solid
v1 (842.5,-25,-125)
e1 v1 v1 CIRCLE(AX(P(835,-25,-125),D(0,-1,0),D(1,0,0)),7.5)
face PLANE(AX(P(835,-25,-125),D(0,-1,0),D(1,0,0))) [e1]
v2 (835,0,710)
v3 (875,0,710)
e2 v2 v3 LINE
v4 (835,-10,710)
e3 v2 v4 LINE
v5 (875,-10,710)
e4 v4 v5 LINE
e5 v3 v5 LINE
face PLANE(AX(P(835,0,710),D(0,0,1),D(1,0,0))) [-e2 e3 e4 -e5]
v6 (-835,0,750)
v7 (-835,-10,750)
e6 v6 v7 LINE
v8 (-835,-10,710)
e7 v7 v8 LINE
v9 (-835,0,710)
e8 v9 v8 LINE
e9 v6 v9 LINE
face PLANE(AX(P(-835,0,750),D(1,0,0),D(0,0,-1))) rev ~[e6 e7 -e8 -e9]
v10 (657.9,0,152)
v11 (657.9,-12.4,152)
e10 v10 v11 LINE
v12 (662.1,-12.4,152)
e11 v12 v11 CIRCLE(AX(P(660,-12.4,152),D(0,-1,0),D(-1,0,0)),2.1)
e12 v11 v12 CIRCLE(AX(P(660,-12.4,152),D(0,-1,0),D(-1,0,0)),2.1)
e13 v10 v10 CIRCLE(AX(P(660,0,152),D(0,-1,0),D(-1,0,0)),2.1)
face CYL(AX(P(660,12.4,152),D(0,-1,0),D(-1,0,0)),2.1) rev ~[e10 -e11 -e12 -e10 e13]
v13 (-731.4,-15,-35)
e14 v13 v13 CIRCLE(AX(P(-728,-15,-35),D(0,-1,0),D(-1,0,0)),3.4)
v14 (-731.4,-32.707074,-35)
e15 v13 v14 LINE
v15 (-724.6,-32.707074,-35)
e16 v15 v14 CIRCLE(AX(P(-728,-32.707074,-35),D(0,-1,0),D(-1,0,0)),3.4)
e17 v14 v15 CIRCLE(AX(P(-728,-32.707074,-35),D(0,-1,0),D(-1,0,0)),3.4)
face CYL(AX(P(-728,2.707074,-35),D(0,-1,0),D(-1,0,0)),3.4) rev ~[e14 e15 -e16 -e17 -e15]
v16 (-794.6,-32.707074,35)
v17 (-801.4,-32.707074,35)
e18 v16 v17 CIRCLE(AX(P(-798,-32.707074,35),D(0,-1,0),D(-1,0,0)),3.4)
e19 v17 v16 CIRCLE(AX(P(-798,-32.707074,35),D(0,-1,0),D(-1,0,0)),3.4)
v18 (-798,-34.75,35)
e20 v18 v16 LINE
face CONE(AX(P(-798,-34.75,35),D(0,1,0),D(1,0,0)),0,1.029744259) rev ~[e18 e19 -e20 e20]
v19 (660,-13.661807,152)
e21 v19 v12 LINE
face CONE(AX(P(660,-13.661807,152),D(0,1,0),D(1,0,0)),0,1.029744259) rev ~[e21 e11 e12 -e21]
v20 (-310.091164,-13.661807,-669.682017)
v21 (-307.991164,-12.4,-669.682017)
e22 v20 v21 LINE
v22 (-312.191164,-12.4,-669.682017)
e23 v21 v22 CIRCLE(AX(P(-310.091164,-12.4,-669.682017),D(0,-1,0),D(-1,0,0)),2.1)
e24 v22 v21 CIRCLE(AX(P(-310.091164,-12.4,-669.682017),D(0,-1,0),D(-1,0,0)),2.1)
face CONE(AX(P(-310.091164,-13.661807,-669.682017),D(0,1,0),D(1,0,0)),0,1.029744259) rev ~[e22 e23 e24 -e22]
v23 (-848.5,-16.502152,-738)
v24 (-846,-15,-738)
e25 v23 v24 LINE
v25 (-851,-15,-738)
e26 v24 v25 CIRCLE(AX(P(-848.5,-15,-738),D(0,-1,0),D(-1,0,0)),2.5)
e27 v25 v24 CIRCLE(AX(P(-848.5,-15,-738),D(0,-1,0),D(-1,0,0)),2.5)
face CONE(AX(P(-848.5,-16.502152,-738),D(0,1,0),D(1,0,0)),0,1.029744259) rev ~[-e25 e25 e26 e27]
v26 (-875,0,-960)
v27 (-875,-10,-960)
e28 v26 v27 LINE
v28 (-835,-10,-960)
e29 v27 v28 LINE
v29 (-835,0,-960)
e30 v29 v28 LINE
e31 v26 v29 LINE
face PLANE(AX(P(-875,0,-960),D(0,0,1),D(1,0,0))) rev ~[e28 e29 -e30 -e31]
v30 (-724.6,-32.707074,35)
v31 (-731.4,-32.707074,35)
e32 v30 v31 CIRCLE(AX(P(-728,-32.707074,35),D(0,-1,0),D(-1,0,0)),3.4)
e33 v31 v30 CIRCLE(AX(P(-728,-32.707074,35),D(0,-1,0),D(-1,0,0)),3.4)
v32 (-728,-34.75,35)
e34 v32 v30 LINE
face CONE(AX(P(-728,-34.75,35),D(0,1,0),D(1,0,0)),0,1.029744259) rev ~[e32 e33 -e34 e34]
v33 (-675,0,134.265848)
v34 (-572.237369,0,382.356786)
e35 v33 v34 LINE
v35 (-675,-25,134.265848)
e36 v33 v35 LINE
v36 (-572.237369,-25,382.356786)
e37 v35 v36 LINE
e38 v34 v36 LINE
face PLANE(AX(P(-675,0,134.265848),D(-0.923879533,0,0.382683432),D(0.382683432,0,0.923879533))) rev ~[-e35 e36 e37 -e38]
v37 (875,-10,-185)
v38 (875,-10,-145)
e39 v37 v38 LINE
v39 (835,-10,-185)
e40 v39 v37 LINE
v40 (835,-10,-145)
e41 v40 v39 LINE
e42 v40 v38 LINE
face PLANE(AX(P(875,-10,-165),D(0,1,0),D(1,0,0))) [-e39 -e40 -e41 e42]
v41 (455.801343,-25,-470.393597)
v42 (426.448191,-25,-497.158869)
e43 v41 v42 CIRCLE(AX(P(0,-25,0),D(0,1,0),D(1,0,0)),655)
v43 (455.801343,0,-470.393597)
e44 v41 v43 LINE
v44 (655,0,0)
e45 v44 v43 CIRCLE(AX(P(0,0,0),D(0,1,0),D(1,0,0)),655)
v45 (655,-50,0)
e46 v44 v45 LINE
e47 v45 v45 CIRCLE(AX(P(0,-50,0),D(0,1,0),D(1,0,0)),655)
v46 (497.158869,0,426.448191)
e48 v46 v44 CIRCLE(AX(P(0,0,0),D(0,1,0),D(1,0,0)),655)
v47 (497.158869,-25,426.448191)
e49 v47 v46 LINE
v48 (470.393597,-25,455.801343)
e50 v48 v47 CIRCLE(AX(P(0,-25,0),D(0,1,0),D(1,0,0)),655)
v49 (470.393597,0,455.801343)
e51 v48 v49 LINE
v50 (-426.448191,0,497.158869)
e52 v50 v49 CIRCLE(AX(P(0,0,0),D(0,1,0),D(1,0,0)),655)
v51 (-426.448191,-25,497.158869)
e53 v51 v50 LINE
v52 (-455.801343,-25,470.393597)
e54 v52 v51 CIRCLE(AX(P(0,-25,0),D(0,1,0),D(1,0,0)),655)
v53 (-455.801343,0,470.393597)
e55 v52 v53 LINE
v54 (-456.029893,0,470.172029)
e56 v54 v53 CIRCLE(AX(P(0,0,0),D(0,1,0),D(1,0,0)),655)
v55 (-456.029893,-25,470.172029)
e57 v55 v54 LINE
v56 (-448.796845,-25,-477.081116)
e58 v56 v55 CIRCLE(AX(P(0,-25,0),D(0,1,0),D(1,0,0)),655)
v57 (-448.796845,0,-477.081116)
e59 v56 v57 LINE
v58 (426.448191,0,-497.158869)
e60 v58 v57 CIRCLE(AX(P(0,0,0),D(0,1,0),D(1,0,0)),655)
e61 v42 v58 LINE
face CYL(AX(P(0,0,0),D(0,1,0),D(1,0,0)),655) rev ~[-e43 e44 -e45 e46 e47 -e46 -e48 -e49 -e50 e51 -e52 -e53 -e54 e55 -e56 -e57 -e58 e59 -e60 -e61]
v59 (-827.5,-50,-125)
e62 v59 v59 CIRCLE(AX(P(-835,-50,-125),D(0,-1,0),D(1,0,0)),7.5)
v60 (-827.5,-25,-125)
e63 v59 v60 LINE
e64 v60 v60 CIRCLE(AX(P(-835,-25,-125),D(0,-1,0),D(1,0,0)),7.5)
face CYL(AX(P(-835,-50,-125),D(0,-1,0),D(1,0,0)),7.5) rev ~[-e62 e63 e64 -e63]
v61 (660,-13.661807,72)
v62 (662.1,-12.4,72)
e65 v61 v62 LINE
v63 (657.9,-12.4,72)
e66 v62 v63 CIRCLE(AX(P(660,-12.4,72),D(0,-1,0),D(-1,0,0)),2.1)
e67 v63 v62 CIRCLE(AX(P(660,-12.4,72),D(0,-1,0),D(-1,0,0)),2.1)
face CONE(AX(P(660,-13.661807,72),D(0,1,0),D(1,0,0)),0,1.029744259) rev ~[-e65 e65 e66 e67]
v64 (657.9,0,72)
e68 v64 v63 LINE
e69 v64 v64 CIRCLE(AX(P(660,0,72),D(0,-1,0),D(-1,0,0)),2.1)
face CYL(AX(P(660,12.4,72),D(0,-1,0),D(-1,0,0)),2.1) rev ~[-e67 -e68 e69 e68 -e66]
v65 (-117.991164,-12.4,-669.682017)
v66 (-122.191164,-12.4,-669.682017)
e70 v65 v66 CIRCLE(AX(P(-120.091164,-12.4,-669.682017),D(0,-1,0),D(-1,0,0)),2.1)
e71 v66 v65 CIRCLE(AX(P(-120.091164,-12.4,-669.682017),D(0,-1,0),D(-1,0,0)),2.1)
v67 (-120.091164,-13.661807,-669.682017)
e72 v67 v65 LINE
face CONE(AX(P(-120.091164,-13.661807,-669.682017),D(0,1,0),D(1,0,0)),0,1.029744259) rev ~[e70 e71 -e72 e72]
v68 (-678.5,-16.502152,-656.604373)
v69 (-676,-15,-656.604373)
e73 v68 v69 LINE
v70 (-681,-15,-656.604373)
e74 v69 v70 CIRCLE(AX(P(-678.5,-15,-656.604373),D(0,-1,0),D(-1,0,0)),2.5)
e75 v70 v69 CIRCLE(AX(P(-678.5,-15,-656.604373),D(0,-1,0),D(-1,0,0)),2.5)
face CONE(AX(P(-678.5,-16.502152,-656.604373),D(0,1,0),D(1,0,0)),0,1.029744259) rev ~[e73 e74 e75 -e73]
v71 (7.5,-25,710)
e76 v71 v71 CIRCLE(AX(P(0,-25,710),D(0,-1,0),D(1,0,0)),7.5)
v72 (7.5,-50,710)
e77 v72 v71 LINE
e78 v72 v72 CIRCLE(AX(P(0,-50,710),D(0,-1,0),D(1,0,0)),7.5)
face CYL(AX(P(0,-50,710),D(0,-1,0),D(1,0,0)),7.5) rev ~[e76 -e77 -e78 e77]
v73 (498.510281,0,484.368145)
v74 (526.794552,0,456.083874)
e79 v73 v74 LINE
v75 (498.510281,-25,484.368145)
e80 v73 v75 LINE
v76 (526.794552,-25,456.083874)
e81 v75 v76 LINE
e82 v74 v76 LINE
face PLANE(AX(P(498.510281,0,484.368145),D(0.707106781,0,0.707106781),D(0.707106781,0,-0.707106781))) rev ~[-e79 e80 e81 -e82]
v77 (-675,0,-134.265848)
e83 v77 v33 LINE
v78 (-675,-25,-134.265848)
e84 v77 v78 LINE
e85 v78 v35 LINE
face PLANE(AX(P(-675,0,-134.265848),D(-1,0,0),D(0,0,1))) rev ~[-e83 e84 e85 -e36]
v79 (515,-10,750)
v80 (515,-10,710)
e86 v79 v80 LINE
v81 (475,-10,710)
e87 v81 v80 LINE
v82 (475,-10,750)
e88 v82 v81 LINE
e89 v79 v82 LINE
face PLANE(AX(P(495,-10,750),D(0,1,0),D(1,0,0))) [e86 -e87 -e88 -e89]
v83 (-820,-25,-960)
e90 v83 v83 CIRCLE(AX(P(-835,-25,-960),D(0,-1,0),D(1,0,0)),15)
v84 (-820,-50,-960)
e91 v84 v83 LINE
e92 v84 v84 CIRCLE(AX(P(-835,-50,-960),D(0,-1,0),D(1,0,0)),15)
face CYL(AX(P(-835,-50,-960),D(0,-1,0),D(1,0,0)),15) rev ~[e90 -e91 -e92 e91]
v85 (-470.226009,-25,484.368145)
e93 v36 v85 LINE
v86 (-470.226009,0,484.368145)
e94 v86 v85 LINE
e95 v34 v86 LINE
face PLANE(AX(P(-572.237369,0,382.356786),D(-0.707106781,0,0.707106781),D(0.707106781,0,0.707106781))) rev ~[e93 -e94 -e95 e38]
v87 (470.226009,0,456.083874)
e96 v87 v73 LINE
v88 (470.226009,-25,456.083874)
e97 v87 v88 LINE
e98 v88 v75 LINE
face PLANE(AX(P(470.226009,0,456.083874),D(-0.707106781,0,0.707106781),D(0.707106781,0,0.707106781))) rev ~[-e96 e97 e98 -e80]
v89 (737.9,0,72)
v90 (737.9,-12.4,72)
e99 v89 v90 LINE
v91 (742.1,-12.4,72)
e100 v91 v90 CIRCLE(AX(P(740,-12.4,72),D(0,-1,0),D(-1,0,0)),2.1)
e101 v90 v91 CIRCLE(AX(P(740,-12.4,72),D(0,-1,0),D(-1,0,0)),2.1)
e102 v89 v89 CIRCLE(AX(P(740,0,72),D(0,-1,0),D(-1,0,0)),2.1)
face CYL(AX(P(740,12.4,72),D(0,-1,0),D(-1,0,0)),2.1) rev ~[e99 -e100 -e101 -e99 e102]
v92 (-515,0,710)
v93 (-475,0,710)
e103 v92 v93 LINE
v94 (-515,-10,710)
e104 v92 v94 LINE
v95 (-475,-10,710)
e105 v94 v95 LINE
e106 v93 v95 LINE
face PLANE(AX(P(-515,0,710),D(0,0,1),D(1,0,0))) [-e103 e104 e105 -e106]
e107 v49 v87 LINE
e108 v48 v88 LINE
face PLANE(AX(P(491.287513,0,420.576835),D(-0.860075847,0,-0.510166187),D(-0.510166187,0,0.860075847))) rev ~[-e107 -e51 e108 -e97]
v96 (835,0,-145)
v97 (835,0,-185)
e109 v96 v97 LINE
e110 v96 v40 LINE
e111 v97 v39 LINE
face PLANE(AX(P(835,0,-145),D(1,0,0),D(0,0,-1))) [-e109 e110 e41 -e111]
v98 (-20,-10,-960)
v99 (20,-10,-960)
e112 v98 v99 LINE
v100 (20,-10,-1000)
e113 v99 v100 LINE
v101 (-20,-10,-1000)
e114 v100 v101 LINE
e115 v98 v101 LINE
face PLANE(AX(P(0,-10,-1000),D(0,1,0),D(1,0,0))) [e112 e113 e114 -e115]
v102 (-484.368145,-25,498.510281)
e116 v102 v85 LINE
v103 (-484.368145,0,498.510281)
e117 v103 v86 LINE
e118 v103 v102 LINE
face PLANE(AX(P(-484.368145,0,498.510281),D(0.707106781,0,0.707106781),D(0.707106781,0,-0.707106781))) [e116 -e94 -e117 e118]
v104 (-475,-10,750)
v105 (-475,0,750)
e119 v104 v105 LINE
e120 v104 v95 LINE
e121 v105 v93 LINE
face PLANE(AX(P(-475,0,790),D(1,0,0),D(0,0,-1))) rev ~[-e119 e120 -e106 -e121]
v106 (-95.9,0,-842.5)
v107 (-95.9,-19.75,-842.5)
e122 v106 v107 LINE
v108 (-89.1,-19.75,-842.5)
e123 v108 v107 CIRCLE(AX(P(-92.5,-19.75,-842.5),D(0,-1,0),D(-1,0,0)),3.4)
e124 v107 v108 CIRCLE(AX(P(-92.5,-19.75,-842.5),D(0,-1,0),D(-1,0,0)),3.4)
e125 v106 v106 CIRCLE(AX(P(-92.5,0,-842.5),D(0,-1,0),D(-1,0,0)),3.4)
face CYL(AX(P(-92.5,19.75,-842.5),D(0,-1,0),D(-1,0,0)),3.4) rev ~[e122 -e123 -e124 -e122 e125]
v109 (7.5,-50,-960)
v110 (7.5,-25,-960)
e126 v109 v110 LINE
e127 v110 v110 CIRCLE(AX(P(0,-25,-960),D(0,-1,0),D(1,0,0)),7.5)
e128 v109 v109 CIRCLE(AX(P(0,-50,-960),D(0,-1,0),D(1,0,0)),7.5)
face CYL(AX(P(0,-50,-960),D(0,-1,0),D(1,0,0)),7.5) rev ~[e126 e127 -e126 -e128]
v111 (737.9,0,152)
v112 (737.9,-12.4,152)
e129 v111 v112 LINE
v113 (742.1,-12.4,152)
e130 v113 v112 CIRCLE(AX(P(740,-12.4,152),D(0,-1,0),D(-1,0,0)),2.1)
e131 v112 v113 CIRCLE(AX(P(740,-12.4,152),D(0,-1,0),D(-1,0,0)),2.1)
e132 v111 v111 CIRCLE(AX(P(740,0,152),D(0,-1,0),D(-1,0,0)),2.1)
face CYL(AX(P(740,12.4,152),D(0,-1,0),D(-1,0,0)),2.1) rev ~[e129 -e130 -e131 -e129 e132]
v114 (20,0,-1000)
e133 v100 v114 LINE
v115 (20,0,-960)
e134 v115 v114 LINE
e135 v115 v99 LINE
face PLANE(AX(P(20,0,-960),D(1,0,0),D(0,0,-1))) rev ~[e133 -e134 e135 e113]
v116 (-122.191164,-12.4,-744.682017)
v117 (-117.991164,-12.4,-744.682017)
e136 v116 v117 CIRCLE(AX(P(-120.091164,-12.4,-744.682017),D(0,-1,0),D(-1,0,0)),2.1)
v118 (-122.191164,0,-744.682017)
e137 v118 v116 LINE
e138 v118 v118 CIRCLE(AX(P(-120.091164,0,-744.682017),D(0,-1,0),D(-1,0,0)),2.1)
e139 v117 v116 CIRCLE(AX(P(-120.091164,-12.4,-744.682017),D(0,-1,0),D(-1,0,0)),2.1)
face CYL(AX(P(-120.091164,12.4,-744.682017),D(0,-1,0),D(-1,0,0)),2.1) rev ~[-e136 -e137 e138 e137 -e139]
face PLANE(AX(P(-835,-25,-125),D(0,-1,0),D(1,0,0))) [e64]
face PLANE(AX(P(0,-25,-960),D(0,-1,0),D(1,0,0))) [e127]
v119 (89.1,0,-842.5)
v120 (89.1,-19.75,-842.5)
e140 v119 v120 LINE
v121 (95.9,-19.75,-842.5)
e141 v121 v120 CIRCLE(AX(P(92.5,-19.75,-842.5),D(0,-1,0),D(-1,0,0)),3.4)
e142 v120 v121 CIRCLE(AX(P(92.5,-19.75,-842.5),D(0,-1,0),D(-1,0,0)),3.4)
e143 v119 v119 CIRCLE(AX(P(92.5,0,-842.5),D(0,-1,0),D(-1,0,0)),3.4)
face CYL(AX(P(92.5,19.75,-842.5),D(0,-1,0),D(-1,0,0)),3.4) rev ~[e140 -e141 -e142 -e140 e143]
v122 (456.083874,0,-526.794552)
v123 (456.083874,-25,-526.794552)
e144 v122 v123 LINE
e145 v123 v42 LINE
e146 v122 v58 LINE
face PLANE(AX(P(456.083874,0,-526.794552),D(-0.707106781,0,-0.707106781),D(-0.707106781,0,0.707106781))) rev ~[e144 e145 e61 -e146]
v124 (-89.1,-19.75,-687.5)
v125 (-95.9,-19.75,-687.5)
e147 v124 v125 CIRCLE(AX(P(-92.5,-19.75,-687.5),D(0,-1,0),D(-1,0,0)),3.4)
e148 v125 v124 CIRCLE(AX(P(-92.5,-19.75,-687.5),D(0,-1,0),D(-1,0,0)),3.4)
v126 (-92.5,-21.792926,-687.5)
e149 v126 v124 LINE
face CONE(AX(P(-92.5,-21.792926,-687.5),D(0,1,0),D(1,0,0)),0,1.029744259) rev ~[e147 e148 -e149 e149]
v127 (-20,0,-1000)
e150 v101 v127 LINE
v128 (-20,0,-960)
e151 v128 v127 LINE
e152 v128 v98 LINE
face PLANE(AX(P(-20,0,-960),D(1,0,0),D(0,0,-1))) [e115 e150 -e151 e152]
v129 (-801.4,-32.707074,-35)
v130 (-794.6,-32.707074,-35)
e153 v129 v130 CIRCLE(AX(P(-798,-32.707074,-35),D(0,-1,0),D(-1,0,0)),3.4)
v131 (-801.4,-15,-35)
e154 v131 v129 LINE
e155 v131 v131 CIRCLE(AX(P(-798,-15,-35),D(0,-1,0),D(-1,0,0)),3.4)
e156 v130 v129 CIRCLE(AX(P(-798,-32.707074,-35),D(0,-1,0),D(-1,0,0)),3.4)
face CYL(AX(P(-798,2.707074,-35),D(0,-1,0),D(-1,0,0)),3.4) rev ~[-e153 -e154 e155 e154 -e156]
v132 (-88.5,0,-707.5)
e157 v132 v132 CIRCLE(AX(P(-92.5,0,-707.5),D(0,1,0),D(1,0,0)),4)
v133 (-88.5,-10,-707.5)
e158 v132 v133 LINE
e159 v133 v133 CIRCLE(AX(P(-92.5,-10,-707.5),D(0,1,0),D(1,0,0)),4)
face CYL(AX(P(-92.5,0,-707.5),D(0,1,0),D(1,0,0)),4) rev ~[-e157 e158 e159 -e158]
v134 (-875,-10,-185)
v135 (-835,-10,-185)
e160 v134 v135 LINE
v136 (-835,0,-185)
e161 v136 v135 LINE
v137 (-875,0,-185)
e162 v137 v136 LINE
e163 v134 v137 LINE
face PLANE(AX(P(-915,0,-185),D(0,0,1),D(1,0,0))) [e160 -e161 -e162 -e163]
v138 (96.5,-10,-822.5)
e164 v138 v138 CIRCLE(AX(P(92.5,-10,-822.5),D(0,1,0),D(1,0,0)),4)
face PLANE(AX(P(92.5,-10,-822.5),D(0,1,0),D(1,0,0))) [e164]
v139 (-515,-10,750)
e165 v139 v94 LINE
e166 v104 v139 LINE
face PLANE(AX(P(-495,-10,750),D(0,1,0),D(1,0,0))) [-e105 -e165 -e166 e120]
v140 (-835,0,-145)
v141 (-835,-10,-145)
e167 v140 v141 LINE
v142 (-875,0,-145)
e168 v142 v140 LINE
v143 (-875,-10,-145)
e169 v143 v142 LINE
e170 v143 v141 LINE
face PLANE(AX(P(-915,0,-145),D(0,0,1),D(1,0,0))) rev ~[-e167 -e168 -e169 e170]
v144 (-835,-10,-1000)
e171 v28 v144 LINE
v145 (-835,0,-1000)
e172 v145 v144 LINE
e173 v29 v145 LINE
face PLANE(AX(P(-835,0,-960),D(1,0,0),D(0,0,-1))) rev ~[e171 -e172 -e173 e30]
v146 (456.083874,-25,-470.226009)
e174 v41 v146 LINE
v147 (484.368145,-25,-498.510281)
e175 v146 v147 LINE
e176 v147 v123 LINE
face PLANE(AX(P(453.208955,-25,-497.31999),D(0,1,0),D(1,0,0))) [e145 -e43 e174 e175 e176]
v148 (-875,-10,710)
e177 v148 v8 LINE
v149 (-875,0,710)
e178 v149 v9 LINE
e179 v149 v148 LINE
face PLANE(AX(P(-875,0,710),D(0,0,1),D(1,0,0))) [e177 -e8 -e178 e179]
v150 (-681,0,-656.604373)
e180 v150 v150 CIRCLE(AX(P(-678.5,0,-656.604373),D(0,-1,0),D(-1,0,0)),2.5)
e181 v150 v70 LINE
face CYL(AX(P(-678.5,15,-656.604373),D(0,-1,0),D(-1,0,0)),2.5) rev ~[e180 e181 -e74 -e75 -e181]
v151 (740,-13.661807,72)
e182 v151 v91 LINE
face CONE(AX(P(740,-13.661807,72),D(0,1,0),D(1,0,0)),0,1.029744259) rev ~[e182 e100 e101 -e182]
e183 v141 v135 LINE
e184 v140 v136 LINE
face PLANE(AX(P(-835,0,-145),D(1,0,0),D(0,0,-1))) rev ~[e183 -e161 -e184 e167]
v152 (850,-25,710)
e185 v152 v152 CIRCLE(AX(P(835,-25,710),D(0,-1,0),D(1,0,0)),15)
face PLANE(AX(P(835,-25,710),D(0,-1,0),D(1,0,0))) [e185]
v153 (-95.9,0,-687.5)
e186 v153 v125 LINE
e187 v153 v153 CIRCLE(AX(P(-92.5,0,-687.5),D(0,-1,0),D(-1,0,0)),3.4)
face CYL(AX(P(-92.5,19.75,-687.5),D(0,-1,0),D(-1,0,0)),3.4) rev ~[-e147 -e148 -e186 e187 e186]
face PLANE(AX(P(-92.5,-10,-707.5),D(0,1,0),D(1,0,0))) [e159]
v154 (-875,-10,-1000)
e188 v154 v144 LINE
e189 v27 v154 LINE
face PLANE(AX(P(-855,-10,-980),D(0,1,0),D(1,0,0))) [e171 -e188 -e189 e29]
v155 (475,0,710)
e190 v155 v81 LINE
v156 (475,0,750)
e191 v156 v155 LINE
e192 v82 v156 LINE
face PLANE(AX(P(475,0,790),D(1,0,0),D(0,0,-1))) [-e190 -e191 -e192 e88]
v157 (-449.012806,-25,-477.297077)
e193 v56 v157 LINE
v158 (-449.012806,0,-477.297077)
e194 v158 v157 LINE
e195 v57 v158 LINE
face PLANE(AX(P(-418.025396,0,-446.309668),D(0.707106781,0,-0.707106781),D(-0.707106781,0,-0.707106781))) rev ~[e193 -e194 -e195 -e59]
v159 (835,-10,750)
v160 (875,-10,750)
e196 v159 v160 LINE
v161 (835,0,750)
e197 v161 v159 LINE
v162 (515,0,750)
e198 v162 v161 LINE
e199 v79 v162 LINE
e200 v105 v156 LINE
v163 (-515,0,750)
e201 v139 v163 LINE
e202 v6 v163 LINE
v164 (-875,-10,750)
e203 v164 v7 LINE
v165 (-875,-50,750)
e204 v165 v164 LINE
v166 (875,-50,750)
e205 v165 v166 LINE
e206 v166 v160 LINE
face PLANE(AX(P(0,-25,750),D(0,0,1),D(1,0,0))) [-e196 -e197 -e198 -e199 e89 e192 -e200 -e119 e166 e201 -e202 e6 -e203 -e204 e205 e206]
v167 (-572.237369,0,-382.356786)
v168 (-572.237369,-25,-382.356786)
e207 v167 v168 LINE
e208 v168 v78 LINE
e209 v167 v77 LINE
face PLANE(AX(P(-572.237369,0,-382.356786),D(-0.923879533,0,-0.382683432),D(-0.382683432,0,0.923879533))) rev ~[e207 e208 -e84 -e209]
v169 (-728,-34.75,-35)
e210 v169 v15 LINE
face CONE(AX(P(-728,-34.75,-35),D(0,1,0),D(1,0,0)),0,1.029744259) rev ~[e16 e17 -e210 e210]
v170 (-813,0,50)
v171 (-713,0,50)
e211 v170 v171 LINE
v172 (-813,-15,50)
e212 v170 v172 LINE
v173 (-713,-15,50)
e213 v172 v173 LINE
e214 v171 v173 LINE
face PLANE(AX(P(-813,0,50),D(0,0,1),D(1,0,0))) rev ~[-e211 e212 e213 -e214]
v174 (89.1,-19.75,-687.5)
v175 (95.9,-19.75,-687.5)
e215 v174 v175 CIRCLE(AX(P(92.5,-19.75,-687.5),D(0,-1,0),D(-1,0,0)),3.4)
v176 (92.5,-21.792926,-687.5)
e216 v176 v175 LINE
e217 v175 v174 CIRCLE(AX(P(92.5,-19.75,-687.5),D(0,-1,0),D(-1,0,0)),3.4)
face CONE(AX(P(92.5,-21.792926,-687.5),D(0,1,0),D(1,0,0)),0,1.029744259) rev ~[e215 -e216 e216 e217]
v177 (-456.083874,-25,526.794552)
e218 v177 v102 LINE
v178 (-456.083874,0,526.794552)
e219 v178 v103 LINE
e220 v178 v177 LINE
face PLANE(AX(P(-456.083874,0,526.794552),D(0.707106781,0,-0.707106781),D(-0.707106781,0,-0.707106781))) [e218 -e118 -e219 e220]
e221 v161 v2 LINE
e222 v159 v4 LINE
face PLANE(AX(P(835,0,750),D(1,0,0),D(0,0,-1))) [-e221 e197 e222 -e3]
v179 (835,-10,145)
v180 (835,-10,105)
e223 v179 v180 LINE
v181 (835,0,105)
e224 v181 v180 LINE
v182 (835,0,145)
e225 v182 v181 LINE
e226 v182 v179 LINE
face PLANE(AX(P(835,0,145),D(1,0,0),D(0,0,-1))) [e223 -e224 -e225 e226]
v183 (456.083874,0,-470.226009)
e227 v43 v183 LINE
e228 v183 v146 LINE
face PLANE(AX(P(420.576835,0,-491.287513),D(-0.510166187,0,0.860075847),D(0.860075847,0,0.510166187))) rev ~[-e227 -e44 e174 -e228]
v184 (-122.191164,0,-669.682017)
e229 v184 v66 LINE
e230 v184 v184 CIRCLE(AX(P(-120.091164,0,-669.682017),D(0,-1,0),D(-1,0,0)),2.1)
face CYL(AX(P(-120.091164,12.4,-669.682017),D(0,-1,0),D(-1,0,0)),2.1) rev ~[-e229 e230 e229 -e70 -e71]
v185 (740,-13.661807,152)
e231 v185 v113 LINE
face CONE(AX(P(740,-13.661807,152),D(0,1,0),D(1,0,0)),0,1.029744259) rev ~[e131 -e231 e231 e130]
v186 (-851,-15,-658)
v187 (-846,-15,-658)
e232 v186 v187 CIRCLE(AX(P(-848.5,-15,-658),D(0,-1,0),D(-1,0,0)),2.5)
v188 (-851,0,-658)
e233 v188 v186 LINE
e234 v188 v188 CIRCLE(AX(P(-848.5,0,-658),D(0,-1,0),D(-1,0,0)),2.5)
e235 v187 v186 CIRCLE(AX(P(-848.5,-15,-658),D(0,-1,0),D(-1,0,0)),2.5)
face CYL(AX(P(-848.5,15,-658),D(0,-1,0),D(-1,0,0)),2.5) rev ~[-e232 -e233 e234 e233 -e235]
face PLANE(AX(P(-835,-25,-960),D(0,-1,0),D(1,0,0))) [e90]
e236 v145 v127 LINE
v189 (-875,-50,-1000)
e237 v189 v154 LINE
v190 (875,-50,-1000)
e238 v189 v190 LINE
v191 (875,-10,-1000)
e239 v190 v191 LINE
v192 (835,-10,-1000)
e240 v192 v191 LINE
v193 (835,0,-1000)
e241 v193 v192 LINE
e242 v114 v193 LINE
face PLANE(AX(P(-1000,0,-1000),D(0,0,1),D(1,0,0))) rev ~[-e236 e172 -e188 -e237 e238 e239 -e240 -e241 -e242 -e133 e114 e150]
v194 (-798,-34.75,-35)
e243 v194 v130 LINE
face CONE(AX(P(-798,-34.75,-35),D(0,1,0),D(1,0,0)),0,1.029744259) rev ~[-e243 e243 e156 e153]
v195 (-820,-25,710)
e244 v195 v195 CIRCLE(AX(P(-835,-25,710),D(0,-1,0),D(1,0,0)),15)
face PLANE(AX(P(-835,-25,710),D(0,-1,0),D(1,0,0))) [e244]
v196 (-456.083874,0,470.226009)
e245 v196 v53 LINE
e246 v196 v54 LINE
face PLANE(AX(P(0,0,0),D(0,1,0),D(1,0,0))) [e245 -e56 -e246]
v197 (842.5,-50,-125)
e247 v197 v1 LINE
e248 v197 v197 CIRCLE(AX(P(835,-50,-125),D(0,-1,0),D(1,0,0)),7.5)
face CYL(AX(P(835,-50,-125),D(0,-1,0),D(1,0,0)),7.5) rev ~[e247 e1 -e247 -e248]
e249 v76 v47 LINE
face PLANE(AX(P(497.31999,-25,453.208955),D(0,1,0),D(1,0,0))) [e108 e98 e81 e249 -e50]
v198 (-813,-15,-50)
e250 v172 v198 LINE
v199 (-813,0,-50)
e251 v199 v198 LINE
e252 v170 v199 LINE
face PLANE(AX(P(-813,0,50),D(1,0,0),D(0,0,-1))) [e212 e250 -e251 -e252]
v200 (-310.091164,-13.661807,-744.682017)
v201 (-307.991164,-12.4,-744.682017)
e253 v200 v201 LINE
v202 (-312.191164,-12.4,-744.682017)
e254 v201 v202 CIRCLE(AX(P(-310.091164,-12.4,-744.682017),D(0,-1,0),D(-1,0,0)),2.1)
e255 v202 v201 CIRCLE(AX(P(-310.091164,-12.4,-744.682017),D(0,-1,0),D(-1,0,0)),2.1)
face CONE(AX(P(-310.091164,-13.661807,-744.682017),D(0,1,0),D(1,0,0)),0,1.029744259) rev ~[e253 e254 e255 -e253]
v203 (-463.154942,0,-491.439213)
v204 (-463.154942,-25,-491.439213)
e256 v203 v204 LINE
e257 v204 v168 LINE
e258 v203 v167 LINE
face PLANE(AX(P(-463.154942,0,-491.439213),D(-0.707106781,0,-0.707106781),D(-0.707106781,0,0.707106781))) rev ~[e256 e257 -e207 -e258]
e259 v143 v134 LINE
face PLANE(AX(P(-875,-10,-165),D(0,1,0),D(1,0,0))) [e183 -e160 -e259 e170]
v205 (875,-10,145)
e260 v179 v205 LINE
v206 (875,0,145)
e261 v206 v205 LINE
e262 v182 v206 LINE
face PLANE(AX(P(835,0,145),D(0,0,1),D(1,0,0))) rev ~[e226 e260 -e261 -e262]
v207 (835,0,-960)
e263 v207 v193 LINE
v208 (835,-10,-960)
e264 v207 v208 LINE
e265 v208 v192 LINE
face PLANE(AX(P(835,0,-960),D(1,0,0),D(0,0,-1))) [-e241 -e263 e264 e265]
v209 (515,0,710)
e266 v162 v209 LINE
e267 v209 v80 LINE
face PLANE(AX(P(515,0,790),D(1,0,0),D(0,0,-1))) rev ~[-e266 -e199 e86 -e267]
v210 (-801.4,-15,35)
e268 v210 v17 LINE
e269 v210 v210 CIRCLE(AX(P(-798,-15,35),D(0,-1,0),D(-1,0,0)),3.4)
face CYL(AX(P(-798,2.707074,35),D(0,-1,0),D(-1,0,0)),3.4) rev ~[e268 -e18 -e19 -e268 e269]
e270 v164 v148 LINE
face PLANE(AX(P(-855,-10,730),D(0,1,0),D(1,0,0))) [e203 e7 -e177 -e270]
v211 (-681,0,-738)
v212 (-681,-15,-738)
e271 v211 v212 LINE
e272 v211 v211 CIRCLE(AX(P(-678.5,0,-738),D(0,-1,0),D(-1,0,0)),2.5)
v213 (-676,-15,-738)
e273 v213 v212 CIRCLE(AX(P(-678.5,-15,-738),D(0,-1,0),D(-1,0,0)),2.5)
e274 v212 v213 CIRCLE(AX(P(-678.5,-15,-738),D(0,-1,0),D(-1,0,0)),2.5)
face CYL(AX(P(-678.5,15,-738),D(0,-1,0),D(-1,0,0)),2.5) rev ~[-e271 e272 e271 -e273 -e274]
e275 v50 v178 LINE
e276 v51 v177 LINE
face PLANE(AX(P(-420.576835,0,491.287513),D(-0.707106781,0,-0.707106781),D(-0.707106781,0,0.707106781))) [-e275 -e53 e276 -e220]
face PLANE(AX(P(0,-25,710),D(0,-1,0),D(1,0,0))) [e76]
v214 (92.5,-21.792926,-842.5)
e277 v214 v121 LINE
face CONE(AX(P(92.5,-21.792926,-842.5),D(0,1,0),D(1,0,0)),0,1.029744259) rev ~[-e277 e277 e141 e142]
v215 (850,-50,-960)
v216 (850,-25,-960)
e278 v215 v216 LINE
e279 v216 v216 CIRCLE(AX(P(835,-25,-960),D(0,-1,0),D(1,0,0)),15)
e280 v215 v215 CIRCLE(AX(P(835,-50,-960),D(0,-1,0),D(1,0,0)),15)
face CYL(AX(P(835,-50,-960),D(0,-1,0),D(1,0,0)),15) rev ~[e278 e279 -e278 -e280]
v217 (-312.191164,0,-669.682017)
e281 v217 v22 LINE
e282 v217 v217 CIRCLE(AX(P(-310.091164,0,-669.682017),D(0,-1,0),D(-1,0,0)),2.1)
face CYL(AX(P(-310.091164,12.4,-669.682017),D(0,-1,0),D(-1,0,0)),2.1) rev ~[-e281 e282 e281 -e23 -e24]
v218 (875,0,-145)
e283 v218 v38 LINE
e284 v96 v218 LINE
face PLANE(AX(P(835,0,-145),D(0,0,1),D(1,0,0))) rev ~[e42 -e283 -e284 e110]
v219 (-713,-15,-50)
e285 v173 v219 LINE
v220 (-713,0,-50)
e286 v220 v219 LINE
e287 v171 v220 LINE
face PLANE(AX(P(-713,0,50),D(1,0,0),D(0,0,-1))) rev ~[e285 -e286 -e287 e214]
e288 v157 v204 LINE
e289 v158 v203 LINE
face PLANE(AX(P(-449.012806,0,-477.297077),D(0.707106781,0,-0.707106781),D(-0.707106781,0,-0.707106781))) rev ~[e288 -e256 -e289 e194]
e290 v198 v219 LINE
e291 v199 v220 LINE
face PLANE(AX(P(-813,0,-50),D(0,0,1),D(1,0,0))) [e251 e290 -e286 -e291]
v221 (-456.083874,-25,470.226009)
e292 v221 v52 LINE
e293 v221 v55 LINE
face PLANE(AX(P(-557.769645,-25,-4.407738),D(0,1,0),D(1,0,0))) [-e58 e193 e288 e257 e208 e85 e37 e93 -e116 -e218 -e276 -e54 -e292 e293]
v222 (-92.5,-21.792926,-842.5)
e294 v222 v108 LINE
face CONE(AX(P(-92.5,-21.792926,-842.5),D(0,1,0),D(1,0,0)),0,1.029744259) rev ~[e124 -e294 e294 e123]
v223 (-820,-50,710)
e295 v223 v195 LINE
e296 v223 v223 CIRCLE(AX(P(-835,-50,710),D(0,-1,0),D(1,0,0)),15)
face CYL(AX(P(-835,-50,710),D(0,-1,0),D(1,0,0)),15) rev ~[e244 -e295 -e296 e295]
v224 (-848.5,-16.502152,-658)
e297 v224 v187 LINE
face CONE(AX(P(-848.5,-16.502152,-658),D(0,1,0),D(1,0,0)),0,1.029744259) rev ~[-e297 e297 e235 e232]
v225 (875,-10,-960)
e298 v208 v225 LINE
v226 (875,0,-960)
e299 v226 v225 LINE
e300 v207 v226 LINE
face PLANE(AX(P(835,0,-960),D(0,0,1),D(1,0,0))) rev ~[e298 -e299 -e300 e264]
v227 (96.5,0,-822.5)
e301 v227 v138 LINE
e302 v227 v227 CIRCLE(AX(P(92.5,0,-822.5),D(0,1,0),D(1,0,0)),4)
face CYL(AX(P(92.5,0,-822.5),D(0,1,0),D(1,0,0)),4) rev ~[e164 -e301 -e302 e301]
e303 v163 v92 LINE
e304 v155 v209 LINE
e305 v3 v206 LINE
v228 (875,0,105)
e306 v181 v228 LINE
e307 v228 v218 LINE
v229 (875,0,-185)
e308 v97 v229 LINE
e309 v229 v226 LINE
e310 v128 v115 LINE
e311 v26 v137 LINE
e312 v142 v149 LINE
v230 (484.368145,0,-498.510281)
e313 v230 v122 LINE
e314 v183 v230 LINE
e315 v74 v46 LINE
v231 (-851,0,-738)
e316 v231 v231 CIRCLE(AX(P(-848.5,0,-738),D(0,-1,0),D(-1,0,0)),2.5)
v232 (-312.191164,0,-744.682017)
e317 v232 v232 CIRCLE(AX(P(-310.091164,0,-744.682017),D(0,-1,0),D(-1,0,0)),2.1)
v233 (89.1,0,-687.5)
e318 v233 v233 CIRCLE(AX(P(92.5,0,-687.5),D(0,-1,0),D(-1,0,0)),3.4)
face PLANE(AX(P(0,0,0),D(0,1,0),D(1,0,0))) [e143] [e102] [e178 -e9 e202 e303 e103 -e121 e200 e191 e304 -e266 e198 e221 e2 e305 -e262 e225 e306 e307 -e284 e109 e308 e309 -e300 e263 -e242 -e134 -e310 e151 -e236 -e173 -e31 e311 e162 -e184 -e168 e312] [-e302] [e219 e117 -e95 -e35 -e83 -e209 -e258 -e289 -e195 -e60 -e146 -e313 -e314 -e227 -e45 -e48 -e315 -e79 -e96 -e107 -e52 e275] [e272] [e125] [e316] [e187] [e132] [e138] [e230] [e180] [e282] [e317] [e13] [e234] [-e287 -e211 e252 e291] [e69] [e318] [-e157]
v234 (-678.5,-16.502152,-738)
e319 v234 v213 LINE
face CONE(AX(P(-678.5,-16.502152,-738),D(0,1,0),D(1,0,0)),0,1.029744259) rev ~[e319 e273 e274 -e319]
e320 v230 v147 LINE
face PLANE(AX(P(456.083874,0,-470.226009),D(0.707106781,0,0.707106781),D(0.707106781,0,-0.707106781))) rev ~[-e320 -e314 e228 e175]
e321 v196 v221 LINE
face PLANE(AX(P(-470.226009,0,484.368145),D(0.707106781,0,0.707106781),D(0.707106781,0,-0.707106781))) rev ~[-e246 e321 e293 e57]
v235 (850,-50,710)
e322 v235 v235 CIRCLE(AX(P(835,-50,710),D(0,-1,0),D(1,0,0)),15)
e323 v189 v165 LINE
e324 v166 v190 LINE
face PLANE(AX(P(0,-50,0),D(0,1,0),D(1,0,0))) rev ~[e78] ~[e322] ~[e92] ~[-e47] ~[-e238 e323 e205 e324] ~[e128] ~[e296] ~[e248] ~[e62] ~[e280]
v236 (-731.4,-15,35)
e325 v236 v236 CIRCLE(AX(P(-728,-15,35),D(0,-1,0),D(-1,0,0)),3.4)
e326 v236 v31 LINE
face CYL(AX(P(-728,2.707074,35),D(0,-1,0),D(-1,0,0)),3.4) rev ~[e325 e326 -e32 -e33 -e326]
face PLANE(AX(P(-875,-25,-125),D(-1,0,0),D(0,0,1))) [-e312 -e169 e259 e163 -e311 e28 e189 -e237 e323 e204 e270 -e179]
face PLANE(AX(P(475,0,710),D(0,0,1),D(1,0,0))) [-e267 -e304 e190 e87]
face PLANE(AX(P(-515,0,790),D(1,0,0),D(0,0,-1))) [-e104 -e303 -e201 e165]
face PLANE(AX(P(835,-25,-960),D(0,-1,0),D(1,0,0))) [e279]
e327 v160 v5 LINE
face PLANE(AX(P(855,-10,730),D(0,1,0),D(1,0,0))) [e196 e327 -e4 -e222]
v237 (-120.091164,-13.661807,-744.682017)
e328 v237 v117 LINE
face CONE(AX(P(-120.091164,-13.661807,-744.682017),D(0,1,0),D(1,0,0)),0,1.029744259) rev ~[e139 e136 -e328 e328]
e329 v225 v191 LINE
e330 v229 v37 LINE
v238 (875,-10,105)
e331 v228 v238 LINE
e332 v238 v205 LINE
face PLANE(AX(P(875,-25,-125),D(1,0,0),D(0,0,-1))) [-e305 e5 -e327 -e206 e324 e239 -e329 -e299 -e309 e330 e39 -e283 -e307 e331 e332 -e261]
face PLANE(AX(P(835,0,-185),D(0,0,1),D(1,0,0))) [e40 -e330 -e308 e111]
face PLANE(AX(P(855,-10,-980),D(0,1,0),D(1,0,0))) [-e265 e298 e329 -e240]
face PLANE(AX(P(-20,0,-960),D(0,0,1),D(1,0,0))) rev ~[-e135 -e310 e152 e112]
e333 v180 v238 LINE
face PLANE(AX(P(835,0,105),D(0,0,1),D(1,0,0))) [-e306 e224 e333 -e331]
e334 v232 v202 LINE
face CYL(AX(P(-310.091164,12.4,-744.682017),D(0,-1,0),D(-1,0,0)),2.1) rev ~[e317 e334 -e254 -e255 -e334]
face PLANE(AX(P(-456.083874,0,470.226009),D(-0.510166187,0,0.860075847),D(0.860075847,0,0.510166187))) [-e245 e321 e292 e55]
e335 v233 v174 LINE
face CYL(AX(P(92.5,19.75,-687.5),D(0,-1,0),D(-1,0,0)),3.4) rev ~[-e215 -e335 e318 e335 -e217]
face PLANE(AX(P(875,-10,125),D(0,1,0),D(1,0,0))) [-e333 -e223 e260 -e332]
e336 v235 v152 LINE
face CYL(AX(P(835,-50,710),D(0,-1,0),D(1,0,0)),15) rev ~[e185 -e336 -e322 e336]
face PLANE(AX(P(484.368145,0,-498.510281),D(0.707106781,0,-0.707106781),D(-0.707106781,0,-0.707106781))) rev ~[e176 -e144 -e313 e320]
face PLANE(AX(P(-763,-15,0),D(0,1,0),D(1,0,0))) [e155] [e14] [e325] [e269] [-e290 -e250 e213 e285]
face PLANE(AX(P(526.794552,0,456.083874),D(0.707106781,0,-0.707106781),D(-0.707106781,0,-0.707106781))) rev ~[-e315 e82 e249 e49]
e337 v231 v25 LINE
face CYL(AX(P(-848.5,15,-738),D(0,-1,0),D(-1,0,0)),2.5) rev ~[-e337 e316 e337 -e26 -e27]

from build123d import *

# Parameters (mm, degrees)
SKETCH1_W             = 2000
SKETCH1_H             = 2000
BOSS_EXTRUDE1_DEPTH   = 50
SKETCH2_R             = 6
CUT_EXTRUDE1_DEPTH    = 30
SKETCH3_W             = 2000
SKETCH3_H             = 50
CUT_EXTRUDE2_DEPTH    = 250
SKETCH4_W             = 1750
SKETCH4_H             = 50
CUT_EXTRUDE3_DEPTH    = 125
SKETCH5_W             = 1750
SKETCH5_H             = 50
CUT_EXTRUDE4_DEPTH    = 125
SKETCH6_R             = 655
CUT_EXTRUDE5_DEPTH    = 51
SKETCH7_W             = 100
SKETCH7_H             = 100
CUT_EXTRUDE6_DEPTH    = 15
M8_TAPPED_HOLE1_D     = 6.8
M8_TAPPED_HOLE1_DEPTH = 17.707073895
M8_TAPPED_HOLE1_TIP   = 2.042926105
SKETCH13_R            = 15
SKETCH13_R_2          = 7.5
CUT_EXTRUDE8_DEPTH    = 25
SKETCH14_W            = 40
SKETCH14_H            = 40
SKETCH14_W_2          = 80
SKETCH14_H_2          = 80
CUT_EXTRUDE9_DEPTH    = 10
M5_TAPPED_HOLE1_D     = 4.2
M5_TAPPED_HOLE1_DEPTH = 12.4
M5_TAPPED_HOLE1_TIP   = 1.2618073
M8_TAPPED_HOLE2_D     = 6.8
M8_TAPPED_HOLE2_DEPTH = 19.75
M8_TAPPED_HOLE2_TIP   = 2.042926105
SKETCH21_R            = 4
CUT_EXTRUDE10_DEPTH   = 10
M6_TAPPED_HOLE1_D     = 5
M6_TAPPED_HOLE1_DEPTH = 15
M6_TAPPED_HOLE1_TIP   = 1.502151548
CUT_EXTRUDE11_DEPTH   = 25
CUT_EXTRUDE12_DEPTH   = 25


with BuildPart() as part:
    # Sketch1 → Boss-Extrude1 (new body)
    with BuildSketch(Plane(origin=(0, 0, 0), x_dir=(1, 0, 0), z_dir=(0, 1, 0))):
        Rectangle(SKETCH1_W, SKETCH1_H)
    extrude(amount=-BOSS_EXTRUDE1_DEPTH)

    # Sketch2 → Cut-Extrude1 (cut)
    with BuildSketch(Plane(origin=(0, 0, 0), x_dir=(1, 0, 0), z_dir=(0, 1, 0))):
        with Locations((0, -175)):
            Circle(SKETCH2_R)
        with Locations((106, 129)):
            Circle(SKETCH2_R)
    extrude(amount=-CUT_EXTRUDE1_DEPTH, mode=Mode.SUBTRACT)

    # Sketch3 → Cut-Extrude2 (cut)
    with BuildSketch(Plane.XY.offset(1000)):
        with Locations((0, -25)):
            Rectangle(SKETCH3_W, SKETCH3_H)
    extrude(amount=-CUT_EXTRUDE2_DEPTH, mode=Mode.SUBTRACT)

    # Sketch4 → Cut-Extrude3 (cut)
    with BuildSketch(Plane.ZY.offset(1000)):
        with Locations((-125, -25)):
            Rectangle(SKETCH4_W, SKETCH4_H)
    extrude(amount=-CUT_EXTRUDE3_DEPTH, mode=Mode.SUBTRACT)

    # Sketch5 → Cut-Extrude4 (cut)
    with BuildSketch(Plane(origin=(1000, 0, 0), x_dir=(0, 0, -1), z_dir=(1, 0, 0))):
        with Locations((125, -25)):
            Rectangle(SKETCH5_W, SKETCH5_H)
    extrude(amount=-CUT_EXTRUDE4_DEPTH, mode=Mode.SUBTRACT)

    # Sketch6 → Cut-Extrude5 (cut, through all)
    with BuildSketch(Plane(origin=(0, 0, 0), x_dir=(1, 0, 0), z_dir=(0, 1, 0))):
        Circle(SKETCH6_R)
    extrude(amount=-CUT_EXTRUDE5_DEPTH, mode=Mode.SUBTRACT)

    # Sketch7 → Cut-Extrude6 (cut)
    with BuildSketch(Plane(origin=(0, 0, 0), x_dir=(1, 0, 0), z_dir=(0, 1, 0))):
        with Locations((-763, 0)):
            Rectangle(SKETCH7_W, SKETCH7_H)
    extrude(amount=-CUT_EXTRUDE6_DEPTH, mode=Mode.SUBTRACT)

    # M8 Tapped Hole1
    with Locations(Plane(origin=(0, -15, 0), x_dir=(1, 0, 0), z_dir=(0, 1, 0))):
        with Locations((-798, 35), (-798, -35), (-728, -35), (-728, 35)):
            Hole(M8_TAPPED_HOLE1_D / 2, depth=M8_TAPPED_HOLE1_DEPTH)
            with Locations((0, 0, -(M8_TAPPED_HOLE1_DEPTH + M8_TAPPED_HOLE1_TIP / 2))):  # 118° drill point
                Cone(0, M8_TAPPED_HOLE1_D / 2, M8_TAPPED_HOLE1_TIP, mode=Mode.SUBTRACT)

    # Sketch13 → Cut-Extrude8 (cut)
    with BuildSketch(Plane.XZ.offset(50)):
        with Locations((-835, 710)):
            Circle(SKETCH13_R)
        with Locations((835, -960)):
            Circle(SKETCH13_R)
        with Locations((835, 710)):
            Circle(SKETCH13_R)
        with Locations((-835, -960)):
            Circle(SKETCH13_R)
        with Locations((0, -960)):
            Circle(SKETCH13_R_2)
        with Locations((0, 710)):
            Circle(SKETCH13_R_2)
        with Locations((835, -125)):
            Circle(SKETCH13_R_2)
        with Locations((-835, -125)):
            Circle(SKETCH13_R_2)
    extrude(amount=-CUT_EXTRUDE8_DEPTH, mode=Mode.SUBTRACT)

    # Sketch14 → Cut-Extrude9 (cut)
    with BuildSketch(Plane(origin=(0, 0, 0), x_dir=(1, 0, 0), z_dir=(0, 1, 0))):
        with Locations((855, -730)):
            Rectangle(SKETCH14_W, SKETCH14_H)
        with Locations((875, 165)):
            Rectangle(SKETCH14_W_2, SKETCH14_H)
        with Locations((855, 980)):
            Rectangle(SKETCH14_W, SKETCH14_H)
        with Locations((-855, 980)):
            Rectangle(SKETCH14_W, SKETCH14_H)
        with Locations((-855, -730)):
            Rectangle(SKETCH14_W, SKETCH14_H)
        with Locations((-875, 165)):
            Rectangle(SKETCH14_W_2, SKETCH14_H)
        with Locations((0, 1000)):
            Rectangle(SKETCH14_W, SKETCH14_H_2)
        with Locations((-495, -750)):
            Rectangle(SKETCH14_W, SKETCH14_H_2)
        with Locations((495, -750)):
            Rectangle(SKETCH14_W, SKETCH14_H_2)
        with Locations((875, -125)):
            Rectangle(SKETCH14_W_2, SKETCH14_H)
    extrude(amount=-CUT_EXTRUDE9_DEPTH, mode=Mode.SUBTRACT)

    # M5 Tapped Hole1
    with Locations(Plane(origin=(0, 0, 0), x_dir=(1, 0, 0), z_dir=(0, 1, 0))):
        with Locations((740, -152), (740, -72), (660, -72), (660, -152), (-310.091163632, 744.682016608), (-310.091163632, 669.682016608), (-120.091163632, 669.682016608), (-120.091163632, 744.682016608)):
            Hole(M5_TAPPED_HOLE1_D / 2, depth=M5_TAPPED_HOLE1_DEPTH)
            with Locations((0, 0, -(M5_TAPPED_HOLE1_DEPTH + M5_TAPPED_HOLE1_TIP / 2))):  # 118° drill point
                Cone(0, M5_TAPPED_HOLE1_D / 2, M5_TAPPED_HOLE1_TIP, mode=Mode.SUBTRACT)

    # M8 Tapped Hole2
    with Locations(Plane(origin=(0, 0, 0), x_dir=(1, 0, 0), z_dir=(0, 1, 0))):
        with Locations((-92.500000018, 687.499999989), (92.500000005, 687.499999992), (92.500000005, 842.499999992), (-92.499999995, 842.499999992)):
            Hole(M8_TAPPED_HOLE2_D / 2, depth=M8_TAPPED_HOLE2_DEPTH)
            with Locations((0, 0, -(M8_TAPPED_HOLE2_DEPTH + M8_TAPPED_HOLE2_TIP / 2))):  # 118° drill point
                Cone(0, M8_TAPPED_HOLE2_D / 2, M8_TAPPED_HOLE2_TIP, mode=Mode.SUBTRACT)

    # Sketch21 → Cut-Extrude10 (cut)
    with BuildSketch(Plane(origin=(0, 0, 0), x_dir=(1, 0, 0), z_dir=(0, 1, 0))):
        with Locations((-92.500000018, 707.499999987)):
            Circle(SKETCH21_R)
        with Locations((92.500000005, 822.499999992)):
            Circle(SKETCH21_R)
    extrude(amount=-CUT_EXTRUDE10_DEPTH, mode=Mode.SUBTRACT)

    # M6 Tapped Hole1
    with Locations(Plane(origin=(0, 0, 0), x_dir=(1, 0, 0), z_dir=(0, 1, 0))):
        with Locations((-678.5, 738), (-678.5, 656.604373077), (-848.5, 658), (-848.5, 738)):
            Hole(M6_TAPPED_HOLE1_D / 2, depth=M6_TAPPED_HOLE1_DEPTH)
            with Locations((0, 0, -(M6_TAPPED_HOLE1_DEPTH + M6_TAPPED_HOLE1_TIP / 2))):  # 118° drill point
                Cone(0, M6_TAPPED_HOLE1_D / 2, M6_TAPPED_HOLE1_TIP, mode=Mode.SUBTRACT)

    # Sketch25 → Cut-Extrude11 (cut)
    with BuildSketch(Plane(origin=(0, 0, 0), x_dir=(1, 0, 0), z_dir=(0, 1, 0))):
        with BuildLine():
            Line((-555.28218759, -371.027695765), (-456.083873865, -470.226009489))
            Line((-456.083873865, -470.226009489), (-425.26997323, -439.412108854))
            ThreePointArc((-425.26997323, -439.412108854), (-611.483880806, 5.001505042), (-418.025396439, 446.309667686))
            Line((-418.025396439, 446.309667686), (-449.012806053, 477.297077301))
            Line((-449.012806053, 477.297077301), (-555.28218759, 371.027695765))
            Line((-555.28218759, 371.027695765), (-655, 130.287600634))
            Line((-655, 130.287600634), (-655, -130.287600634))
            Line((-655, -130.287600634), (-555.28218759, -371.027695765))
        make_face()
        Polygon((-675, -134.265847981), (-572.23736889, -382.356785712), (-470.226009489, -484.368145113), (-456.083873865, -470.226009489), (-555.28218759, -371.027695765), (-655, -130.287600634), (-655, 130.287600634), (-555.28218759, 371.027695765), (-449.012806053, 477.297077301), (-463.154941677, 491.439212925), (-572.23736889, 382.356785712), (-675, 134.265847981), align=None)
    extrude(amount=-CUT_EXTRUDE11_DEPTH, mode=Mode.SUBTRACT)

    # Sketch26 → Cut-Extrude12 (cut)
    with BuildSketch(Plane(origin=(0, 0, 0), x_dir=(1, 0, 0), z_dir=(0, 1, 0))):
        Polygon((-484.368145113, -498.510280737), (-456.083873865, -470.226009489), (-420.576835046, -491.287513165), (-456.083873865, -526.794551984), align=None)
        Polygon((526.794551984, -456.083873865), (491.287513165, -420.576835046), (470.226009489, -456.083873865), (498.510280737, -484.368145113), align=None)
        Polygon((456.083873865, 526.794551984), (420.576835046, 491.287513165), (456.083873865, 470.226009489), (484.368145113, 498.510280737), align=None)
    extrude(amount=-CUT_EXTRUDE12_DEPTH, mode=Mode.SUBTRACT)


solid = part.part
